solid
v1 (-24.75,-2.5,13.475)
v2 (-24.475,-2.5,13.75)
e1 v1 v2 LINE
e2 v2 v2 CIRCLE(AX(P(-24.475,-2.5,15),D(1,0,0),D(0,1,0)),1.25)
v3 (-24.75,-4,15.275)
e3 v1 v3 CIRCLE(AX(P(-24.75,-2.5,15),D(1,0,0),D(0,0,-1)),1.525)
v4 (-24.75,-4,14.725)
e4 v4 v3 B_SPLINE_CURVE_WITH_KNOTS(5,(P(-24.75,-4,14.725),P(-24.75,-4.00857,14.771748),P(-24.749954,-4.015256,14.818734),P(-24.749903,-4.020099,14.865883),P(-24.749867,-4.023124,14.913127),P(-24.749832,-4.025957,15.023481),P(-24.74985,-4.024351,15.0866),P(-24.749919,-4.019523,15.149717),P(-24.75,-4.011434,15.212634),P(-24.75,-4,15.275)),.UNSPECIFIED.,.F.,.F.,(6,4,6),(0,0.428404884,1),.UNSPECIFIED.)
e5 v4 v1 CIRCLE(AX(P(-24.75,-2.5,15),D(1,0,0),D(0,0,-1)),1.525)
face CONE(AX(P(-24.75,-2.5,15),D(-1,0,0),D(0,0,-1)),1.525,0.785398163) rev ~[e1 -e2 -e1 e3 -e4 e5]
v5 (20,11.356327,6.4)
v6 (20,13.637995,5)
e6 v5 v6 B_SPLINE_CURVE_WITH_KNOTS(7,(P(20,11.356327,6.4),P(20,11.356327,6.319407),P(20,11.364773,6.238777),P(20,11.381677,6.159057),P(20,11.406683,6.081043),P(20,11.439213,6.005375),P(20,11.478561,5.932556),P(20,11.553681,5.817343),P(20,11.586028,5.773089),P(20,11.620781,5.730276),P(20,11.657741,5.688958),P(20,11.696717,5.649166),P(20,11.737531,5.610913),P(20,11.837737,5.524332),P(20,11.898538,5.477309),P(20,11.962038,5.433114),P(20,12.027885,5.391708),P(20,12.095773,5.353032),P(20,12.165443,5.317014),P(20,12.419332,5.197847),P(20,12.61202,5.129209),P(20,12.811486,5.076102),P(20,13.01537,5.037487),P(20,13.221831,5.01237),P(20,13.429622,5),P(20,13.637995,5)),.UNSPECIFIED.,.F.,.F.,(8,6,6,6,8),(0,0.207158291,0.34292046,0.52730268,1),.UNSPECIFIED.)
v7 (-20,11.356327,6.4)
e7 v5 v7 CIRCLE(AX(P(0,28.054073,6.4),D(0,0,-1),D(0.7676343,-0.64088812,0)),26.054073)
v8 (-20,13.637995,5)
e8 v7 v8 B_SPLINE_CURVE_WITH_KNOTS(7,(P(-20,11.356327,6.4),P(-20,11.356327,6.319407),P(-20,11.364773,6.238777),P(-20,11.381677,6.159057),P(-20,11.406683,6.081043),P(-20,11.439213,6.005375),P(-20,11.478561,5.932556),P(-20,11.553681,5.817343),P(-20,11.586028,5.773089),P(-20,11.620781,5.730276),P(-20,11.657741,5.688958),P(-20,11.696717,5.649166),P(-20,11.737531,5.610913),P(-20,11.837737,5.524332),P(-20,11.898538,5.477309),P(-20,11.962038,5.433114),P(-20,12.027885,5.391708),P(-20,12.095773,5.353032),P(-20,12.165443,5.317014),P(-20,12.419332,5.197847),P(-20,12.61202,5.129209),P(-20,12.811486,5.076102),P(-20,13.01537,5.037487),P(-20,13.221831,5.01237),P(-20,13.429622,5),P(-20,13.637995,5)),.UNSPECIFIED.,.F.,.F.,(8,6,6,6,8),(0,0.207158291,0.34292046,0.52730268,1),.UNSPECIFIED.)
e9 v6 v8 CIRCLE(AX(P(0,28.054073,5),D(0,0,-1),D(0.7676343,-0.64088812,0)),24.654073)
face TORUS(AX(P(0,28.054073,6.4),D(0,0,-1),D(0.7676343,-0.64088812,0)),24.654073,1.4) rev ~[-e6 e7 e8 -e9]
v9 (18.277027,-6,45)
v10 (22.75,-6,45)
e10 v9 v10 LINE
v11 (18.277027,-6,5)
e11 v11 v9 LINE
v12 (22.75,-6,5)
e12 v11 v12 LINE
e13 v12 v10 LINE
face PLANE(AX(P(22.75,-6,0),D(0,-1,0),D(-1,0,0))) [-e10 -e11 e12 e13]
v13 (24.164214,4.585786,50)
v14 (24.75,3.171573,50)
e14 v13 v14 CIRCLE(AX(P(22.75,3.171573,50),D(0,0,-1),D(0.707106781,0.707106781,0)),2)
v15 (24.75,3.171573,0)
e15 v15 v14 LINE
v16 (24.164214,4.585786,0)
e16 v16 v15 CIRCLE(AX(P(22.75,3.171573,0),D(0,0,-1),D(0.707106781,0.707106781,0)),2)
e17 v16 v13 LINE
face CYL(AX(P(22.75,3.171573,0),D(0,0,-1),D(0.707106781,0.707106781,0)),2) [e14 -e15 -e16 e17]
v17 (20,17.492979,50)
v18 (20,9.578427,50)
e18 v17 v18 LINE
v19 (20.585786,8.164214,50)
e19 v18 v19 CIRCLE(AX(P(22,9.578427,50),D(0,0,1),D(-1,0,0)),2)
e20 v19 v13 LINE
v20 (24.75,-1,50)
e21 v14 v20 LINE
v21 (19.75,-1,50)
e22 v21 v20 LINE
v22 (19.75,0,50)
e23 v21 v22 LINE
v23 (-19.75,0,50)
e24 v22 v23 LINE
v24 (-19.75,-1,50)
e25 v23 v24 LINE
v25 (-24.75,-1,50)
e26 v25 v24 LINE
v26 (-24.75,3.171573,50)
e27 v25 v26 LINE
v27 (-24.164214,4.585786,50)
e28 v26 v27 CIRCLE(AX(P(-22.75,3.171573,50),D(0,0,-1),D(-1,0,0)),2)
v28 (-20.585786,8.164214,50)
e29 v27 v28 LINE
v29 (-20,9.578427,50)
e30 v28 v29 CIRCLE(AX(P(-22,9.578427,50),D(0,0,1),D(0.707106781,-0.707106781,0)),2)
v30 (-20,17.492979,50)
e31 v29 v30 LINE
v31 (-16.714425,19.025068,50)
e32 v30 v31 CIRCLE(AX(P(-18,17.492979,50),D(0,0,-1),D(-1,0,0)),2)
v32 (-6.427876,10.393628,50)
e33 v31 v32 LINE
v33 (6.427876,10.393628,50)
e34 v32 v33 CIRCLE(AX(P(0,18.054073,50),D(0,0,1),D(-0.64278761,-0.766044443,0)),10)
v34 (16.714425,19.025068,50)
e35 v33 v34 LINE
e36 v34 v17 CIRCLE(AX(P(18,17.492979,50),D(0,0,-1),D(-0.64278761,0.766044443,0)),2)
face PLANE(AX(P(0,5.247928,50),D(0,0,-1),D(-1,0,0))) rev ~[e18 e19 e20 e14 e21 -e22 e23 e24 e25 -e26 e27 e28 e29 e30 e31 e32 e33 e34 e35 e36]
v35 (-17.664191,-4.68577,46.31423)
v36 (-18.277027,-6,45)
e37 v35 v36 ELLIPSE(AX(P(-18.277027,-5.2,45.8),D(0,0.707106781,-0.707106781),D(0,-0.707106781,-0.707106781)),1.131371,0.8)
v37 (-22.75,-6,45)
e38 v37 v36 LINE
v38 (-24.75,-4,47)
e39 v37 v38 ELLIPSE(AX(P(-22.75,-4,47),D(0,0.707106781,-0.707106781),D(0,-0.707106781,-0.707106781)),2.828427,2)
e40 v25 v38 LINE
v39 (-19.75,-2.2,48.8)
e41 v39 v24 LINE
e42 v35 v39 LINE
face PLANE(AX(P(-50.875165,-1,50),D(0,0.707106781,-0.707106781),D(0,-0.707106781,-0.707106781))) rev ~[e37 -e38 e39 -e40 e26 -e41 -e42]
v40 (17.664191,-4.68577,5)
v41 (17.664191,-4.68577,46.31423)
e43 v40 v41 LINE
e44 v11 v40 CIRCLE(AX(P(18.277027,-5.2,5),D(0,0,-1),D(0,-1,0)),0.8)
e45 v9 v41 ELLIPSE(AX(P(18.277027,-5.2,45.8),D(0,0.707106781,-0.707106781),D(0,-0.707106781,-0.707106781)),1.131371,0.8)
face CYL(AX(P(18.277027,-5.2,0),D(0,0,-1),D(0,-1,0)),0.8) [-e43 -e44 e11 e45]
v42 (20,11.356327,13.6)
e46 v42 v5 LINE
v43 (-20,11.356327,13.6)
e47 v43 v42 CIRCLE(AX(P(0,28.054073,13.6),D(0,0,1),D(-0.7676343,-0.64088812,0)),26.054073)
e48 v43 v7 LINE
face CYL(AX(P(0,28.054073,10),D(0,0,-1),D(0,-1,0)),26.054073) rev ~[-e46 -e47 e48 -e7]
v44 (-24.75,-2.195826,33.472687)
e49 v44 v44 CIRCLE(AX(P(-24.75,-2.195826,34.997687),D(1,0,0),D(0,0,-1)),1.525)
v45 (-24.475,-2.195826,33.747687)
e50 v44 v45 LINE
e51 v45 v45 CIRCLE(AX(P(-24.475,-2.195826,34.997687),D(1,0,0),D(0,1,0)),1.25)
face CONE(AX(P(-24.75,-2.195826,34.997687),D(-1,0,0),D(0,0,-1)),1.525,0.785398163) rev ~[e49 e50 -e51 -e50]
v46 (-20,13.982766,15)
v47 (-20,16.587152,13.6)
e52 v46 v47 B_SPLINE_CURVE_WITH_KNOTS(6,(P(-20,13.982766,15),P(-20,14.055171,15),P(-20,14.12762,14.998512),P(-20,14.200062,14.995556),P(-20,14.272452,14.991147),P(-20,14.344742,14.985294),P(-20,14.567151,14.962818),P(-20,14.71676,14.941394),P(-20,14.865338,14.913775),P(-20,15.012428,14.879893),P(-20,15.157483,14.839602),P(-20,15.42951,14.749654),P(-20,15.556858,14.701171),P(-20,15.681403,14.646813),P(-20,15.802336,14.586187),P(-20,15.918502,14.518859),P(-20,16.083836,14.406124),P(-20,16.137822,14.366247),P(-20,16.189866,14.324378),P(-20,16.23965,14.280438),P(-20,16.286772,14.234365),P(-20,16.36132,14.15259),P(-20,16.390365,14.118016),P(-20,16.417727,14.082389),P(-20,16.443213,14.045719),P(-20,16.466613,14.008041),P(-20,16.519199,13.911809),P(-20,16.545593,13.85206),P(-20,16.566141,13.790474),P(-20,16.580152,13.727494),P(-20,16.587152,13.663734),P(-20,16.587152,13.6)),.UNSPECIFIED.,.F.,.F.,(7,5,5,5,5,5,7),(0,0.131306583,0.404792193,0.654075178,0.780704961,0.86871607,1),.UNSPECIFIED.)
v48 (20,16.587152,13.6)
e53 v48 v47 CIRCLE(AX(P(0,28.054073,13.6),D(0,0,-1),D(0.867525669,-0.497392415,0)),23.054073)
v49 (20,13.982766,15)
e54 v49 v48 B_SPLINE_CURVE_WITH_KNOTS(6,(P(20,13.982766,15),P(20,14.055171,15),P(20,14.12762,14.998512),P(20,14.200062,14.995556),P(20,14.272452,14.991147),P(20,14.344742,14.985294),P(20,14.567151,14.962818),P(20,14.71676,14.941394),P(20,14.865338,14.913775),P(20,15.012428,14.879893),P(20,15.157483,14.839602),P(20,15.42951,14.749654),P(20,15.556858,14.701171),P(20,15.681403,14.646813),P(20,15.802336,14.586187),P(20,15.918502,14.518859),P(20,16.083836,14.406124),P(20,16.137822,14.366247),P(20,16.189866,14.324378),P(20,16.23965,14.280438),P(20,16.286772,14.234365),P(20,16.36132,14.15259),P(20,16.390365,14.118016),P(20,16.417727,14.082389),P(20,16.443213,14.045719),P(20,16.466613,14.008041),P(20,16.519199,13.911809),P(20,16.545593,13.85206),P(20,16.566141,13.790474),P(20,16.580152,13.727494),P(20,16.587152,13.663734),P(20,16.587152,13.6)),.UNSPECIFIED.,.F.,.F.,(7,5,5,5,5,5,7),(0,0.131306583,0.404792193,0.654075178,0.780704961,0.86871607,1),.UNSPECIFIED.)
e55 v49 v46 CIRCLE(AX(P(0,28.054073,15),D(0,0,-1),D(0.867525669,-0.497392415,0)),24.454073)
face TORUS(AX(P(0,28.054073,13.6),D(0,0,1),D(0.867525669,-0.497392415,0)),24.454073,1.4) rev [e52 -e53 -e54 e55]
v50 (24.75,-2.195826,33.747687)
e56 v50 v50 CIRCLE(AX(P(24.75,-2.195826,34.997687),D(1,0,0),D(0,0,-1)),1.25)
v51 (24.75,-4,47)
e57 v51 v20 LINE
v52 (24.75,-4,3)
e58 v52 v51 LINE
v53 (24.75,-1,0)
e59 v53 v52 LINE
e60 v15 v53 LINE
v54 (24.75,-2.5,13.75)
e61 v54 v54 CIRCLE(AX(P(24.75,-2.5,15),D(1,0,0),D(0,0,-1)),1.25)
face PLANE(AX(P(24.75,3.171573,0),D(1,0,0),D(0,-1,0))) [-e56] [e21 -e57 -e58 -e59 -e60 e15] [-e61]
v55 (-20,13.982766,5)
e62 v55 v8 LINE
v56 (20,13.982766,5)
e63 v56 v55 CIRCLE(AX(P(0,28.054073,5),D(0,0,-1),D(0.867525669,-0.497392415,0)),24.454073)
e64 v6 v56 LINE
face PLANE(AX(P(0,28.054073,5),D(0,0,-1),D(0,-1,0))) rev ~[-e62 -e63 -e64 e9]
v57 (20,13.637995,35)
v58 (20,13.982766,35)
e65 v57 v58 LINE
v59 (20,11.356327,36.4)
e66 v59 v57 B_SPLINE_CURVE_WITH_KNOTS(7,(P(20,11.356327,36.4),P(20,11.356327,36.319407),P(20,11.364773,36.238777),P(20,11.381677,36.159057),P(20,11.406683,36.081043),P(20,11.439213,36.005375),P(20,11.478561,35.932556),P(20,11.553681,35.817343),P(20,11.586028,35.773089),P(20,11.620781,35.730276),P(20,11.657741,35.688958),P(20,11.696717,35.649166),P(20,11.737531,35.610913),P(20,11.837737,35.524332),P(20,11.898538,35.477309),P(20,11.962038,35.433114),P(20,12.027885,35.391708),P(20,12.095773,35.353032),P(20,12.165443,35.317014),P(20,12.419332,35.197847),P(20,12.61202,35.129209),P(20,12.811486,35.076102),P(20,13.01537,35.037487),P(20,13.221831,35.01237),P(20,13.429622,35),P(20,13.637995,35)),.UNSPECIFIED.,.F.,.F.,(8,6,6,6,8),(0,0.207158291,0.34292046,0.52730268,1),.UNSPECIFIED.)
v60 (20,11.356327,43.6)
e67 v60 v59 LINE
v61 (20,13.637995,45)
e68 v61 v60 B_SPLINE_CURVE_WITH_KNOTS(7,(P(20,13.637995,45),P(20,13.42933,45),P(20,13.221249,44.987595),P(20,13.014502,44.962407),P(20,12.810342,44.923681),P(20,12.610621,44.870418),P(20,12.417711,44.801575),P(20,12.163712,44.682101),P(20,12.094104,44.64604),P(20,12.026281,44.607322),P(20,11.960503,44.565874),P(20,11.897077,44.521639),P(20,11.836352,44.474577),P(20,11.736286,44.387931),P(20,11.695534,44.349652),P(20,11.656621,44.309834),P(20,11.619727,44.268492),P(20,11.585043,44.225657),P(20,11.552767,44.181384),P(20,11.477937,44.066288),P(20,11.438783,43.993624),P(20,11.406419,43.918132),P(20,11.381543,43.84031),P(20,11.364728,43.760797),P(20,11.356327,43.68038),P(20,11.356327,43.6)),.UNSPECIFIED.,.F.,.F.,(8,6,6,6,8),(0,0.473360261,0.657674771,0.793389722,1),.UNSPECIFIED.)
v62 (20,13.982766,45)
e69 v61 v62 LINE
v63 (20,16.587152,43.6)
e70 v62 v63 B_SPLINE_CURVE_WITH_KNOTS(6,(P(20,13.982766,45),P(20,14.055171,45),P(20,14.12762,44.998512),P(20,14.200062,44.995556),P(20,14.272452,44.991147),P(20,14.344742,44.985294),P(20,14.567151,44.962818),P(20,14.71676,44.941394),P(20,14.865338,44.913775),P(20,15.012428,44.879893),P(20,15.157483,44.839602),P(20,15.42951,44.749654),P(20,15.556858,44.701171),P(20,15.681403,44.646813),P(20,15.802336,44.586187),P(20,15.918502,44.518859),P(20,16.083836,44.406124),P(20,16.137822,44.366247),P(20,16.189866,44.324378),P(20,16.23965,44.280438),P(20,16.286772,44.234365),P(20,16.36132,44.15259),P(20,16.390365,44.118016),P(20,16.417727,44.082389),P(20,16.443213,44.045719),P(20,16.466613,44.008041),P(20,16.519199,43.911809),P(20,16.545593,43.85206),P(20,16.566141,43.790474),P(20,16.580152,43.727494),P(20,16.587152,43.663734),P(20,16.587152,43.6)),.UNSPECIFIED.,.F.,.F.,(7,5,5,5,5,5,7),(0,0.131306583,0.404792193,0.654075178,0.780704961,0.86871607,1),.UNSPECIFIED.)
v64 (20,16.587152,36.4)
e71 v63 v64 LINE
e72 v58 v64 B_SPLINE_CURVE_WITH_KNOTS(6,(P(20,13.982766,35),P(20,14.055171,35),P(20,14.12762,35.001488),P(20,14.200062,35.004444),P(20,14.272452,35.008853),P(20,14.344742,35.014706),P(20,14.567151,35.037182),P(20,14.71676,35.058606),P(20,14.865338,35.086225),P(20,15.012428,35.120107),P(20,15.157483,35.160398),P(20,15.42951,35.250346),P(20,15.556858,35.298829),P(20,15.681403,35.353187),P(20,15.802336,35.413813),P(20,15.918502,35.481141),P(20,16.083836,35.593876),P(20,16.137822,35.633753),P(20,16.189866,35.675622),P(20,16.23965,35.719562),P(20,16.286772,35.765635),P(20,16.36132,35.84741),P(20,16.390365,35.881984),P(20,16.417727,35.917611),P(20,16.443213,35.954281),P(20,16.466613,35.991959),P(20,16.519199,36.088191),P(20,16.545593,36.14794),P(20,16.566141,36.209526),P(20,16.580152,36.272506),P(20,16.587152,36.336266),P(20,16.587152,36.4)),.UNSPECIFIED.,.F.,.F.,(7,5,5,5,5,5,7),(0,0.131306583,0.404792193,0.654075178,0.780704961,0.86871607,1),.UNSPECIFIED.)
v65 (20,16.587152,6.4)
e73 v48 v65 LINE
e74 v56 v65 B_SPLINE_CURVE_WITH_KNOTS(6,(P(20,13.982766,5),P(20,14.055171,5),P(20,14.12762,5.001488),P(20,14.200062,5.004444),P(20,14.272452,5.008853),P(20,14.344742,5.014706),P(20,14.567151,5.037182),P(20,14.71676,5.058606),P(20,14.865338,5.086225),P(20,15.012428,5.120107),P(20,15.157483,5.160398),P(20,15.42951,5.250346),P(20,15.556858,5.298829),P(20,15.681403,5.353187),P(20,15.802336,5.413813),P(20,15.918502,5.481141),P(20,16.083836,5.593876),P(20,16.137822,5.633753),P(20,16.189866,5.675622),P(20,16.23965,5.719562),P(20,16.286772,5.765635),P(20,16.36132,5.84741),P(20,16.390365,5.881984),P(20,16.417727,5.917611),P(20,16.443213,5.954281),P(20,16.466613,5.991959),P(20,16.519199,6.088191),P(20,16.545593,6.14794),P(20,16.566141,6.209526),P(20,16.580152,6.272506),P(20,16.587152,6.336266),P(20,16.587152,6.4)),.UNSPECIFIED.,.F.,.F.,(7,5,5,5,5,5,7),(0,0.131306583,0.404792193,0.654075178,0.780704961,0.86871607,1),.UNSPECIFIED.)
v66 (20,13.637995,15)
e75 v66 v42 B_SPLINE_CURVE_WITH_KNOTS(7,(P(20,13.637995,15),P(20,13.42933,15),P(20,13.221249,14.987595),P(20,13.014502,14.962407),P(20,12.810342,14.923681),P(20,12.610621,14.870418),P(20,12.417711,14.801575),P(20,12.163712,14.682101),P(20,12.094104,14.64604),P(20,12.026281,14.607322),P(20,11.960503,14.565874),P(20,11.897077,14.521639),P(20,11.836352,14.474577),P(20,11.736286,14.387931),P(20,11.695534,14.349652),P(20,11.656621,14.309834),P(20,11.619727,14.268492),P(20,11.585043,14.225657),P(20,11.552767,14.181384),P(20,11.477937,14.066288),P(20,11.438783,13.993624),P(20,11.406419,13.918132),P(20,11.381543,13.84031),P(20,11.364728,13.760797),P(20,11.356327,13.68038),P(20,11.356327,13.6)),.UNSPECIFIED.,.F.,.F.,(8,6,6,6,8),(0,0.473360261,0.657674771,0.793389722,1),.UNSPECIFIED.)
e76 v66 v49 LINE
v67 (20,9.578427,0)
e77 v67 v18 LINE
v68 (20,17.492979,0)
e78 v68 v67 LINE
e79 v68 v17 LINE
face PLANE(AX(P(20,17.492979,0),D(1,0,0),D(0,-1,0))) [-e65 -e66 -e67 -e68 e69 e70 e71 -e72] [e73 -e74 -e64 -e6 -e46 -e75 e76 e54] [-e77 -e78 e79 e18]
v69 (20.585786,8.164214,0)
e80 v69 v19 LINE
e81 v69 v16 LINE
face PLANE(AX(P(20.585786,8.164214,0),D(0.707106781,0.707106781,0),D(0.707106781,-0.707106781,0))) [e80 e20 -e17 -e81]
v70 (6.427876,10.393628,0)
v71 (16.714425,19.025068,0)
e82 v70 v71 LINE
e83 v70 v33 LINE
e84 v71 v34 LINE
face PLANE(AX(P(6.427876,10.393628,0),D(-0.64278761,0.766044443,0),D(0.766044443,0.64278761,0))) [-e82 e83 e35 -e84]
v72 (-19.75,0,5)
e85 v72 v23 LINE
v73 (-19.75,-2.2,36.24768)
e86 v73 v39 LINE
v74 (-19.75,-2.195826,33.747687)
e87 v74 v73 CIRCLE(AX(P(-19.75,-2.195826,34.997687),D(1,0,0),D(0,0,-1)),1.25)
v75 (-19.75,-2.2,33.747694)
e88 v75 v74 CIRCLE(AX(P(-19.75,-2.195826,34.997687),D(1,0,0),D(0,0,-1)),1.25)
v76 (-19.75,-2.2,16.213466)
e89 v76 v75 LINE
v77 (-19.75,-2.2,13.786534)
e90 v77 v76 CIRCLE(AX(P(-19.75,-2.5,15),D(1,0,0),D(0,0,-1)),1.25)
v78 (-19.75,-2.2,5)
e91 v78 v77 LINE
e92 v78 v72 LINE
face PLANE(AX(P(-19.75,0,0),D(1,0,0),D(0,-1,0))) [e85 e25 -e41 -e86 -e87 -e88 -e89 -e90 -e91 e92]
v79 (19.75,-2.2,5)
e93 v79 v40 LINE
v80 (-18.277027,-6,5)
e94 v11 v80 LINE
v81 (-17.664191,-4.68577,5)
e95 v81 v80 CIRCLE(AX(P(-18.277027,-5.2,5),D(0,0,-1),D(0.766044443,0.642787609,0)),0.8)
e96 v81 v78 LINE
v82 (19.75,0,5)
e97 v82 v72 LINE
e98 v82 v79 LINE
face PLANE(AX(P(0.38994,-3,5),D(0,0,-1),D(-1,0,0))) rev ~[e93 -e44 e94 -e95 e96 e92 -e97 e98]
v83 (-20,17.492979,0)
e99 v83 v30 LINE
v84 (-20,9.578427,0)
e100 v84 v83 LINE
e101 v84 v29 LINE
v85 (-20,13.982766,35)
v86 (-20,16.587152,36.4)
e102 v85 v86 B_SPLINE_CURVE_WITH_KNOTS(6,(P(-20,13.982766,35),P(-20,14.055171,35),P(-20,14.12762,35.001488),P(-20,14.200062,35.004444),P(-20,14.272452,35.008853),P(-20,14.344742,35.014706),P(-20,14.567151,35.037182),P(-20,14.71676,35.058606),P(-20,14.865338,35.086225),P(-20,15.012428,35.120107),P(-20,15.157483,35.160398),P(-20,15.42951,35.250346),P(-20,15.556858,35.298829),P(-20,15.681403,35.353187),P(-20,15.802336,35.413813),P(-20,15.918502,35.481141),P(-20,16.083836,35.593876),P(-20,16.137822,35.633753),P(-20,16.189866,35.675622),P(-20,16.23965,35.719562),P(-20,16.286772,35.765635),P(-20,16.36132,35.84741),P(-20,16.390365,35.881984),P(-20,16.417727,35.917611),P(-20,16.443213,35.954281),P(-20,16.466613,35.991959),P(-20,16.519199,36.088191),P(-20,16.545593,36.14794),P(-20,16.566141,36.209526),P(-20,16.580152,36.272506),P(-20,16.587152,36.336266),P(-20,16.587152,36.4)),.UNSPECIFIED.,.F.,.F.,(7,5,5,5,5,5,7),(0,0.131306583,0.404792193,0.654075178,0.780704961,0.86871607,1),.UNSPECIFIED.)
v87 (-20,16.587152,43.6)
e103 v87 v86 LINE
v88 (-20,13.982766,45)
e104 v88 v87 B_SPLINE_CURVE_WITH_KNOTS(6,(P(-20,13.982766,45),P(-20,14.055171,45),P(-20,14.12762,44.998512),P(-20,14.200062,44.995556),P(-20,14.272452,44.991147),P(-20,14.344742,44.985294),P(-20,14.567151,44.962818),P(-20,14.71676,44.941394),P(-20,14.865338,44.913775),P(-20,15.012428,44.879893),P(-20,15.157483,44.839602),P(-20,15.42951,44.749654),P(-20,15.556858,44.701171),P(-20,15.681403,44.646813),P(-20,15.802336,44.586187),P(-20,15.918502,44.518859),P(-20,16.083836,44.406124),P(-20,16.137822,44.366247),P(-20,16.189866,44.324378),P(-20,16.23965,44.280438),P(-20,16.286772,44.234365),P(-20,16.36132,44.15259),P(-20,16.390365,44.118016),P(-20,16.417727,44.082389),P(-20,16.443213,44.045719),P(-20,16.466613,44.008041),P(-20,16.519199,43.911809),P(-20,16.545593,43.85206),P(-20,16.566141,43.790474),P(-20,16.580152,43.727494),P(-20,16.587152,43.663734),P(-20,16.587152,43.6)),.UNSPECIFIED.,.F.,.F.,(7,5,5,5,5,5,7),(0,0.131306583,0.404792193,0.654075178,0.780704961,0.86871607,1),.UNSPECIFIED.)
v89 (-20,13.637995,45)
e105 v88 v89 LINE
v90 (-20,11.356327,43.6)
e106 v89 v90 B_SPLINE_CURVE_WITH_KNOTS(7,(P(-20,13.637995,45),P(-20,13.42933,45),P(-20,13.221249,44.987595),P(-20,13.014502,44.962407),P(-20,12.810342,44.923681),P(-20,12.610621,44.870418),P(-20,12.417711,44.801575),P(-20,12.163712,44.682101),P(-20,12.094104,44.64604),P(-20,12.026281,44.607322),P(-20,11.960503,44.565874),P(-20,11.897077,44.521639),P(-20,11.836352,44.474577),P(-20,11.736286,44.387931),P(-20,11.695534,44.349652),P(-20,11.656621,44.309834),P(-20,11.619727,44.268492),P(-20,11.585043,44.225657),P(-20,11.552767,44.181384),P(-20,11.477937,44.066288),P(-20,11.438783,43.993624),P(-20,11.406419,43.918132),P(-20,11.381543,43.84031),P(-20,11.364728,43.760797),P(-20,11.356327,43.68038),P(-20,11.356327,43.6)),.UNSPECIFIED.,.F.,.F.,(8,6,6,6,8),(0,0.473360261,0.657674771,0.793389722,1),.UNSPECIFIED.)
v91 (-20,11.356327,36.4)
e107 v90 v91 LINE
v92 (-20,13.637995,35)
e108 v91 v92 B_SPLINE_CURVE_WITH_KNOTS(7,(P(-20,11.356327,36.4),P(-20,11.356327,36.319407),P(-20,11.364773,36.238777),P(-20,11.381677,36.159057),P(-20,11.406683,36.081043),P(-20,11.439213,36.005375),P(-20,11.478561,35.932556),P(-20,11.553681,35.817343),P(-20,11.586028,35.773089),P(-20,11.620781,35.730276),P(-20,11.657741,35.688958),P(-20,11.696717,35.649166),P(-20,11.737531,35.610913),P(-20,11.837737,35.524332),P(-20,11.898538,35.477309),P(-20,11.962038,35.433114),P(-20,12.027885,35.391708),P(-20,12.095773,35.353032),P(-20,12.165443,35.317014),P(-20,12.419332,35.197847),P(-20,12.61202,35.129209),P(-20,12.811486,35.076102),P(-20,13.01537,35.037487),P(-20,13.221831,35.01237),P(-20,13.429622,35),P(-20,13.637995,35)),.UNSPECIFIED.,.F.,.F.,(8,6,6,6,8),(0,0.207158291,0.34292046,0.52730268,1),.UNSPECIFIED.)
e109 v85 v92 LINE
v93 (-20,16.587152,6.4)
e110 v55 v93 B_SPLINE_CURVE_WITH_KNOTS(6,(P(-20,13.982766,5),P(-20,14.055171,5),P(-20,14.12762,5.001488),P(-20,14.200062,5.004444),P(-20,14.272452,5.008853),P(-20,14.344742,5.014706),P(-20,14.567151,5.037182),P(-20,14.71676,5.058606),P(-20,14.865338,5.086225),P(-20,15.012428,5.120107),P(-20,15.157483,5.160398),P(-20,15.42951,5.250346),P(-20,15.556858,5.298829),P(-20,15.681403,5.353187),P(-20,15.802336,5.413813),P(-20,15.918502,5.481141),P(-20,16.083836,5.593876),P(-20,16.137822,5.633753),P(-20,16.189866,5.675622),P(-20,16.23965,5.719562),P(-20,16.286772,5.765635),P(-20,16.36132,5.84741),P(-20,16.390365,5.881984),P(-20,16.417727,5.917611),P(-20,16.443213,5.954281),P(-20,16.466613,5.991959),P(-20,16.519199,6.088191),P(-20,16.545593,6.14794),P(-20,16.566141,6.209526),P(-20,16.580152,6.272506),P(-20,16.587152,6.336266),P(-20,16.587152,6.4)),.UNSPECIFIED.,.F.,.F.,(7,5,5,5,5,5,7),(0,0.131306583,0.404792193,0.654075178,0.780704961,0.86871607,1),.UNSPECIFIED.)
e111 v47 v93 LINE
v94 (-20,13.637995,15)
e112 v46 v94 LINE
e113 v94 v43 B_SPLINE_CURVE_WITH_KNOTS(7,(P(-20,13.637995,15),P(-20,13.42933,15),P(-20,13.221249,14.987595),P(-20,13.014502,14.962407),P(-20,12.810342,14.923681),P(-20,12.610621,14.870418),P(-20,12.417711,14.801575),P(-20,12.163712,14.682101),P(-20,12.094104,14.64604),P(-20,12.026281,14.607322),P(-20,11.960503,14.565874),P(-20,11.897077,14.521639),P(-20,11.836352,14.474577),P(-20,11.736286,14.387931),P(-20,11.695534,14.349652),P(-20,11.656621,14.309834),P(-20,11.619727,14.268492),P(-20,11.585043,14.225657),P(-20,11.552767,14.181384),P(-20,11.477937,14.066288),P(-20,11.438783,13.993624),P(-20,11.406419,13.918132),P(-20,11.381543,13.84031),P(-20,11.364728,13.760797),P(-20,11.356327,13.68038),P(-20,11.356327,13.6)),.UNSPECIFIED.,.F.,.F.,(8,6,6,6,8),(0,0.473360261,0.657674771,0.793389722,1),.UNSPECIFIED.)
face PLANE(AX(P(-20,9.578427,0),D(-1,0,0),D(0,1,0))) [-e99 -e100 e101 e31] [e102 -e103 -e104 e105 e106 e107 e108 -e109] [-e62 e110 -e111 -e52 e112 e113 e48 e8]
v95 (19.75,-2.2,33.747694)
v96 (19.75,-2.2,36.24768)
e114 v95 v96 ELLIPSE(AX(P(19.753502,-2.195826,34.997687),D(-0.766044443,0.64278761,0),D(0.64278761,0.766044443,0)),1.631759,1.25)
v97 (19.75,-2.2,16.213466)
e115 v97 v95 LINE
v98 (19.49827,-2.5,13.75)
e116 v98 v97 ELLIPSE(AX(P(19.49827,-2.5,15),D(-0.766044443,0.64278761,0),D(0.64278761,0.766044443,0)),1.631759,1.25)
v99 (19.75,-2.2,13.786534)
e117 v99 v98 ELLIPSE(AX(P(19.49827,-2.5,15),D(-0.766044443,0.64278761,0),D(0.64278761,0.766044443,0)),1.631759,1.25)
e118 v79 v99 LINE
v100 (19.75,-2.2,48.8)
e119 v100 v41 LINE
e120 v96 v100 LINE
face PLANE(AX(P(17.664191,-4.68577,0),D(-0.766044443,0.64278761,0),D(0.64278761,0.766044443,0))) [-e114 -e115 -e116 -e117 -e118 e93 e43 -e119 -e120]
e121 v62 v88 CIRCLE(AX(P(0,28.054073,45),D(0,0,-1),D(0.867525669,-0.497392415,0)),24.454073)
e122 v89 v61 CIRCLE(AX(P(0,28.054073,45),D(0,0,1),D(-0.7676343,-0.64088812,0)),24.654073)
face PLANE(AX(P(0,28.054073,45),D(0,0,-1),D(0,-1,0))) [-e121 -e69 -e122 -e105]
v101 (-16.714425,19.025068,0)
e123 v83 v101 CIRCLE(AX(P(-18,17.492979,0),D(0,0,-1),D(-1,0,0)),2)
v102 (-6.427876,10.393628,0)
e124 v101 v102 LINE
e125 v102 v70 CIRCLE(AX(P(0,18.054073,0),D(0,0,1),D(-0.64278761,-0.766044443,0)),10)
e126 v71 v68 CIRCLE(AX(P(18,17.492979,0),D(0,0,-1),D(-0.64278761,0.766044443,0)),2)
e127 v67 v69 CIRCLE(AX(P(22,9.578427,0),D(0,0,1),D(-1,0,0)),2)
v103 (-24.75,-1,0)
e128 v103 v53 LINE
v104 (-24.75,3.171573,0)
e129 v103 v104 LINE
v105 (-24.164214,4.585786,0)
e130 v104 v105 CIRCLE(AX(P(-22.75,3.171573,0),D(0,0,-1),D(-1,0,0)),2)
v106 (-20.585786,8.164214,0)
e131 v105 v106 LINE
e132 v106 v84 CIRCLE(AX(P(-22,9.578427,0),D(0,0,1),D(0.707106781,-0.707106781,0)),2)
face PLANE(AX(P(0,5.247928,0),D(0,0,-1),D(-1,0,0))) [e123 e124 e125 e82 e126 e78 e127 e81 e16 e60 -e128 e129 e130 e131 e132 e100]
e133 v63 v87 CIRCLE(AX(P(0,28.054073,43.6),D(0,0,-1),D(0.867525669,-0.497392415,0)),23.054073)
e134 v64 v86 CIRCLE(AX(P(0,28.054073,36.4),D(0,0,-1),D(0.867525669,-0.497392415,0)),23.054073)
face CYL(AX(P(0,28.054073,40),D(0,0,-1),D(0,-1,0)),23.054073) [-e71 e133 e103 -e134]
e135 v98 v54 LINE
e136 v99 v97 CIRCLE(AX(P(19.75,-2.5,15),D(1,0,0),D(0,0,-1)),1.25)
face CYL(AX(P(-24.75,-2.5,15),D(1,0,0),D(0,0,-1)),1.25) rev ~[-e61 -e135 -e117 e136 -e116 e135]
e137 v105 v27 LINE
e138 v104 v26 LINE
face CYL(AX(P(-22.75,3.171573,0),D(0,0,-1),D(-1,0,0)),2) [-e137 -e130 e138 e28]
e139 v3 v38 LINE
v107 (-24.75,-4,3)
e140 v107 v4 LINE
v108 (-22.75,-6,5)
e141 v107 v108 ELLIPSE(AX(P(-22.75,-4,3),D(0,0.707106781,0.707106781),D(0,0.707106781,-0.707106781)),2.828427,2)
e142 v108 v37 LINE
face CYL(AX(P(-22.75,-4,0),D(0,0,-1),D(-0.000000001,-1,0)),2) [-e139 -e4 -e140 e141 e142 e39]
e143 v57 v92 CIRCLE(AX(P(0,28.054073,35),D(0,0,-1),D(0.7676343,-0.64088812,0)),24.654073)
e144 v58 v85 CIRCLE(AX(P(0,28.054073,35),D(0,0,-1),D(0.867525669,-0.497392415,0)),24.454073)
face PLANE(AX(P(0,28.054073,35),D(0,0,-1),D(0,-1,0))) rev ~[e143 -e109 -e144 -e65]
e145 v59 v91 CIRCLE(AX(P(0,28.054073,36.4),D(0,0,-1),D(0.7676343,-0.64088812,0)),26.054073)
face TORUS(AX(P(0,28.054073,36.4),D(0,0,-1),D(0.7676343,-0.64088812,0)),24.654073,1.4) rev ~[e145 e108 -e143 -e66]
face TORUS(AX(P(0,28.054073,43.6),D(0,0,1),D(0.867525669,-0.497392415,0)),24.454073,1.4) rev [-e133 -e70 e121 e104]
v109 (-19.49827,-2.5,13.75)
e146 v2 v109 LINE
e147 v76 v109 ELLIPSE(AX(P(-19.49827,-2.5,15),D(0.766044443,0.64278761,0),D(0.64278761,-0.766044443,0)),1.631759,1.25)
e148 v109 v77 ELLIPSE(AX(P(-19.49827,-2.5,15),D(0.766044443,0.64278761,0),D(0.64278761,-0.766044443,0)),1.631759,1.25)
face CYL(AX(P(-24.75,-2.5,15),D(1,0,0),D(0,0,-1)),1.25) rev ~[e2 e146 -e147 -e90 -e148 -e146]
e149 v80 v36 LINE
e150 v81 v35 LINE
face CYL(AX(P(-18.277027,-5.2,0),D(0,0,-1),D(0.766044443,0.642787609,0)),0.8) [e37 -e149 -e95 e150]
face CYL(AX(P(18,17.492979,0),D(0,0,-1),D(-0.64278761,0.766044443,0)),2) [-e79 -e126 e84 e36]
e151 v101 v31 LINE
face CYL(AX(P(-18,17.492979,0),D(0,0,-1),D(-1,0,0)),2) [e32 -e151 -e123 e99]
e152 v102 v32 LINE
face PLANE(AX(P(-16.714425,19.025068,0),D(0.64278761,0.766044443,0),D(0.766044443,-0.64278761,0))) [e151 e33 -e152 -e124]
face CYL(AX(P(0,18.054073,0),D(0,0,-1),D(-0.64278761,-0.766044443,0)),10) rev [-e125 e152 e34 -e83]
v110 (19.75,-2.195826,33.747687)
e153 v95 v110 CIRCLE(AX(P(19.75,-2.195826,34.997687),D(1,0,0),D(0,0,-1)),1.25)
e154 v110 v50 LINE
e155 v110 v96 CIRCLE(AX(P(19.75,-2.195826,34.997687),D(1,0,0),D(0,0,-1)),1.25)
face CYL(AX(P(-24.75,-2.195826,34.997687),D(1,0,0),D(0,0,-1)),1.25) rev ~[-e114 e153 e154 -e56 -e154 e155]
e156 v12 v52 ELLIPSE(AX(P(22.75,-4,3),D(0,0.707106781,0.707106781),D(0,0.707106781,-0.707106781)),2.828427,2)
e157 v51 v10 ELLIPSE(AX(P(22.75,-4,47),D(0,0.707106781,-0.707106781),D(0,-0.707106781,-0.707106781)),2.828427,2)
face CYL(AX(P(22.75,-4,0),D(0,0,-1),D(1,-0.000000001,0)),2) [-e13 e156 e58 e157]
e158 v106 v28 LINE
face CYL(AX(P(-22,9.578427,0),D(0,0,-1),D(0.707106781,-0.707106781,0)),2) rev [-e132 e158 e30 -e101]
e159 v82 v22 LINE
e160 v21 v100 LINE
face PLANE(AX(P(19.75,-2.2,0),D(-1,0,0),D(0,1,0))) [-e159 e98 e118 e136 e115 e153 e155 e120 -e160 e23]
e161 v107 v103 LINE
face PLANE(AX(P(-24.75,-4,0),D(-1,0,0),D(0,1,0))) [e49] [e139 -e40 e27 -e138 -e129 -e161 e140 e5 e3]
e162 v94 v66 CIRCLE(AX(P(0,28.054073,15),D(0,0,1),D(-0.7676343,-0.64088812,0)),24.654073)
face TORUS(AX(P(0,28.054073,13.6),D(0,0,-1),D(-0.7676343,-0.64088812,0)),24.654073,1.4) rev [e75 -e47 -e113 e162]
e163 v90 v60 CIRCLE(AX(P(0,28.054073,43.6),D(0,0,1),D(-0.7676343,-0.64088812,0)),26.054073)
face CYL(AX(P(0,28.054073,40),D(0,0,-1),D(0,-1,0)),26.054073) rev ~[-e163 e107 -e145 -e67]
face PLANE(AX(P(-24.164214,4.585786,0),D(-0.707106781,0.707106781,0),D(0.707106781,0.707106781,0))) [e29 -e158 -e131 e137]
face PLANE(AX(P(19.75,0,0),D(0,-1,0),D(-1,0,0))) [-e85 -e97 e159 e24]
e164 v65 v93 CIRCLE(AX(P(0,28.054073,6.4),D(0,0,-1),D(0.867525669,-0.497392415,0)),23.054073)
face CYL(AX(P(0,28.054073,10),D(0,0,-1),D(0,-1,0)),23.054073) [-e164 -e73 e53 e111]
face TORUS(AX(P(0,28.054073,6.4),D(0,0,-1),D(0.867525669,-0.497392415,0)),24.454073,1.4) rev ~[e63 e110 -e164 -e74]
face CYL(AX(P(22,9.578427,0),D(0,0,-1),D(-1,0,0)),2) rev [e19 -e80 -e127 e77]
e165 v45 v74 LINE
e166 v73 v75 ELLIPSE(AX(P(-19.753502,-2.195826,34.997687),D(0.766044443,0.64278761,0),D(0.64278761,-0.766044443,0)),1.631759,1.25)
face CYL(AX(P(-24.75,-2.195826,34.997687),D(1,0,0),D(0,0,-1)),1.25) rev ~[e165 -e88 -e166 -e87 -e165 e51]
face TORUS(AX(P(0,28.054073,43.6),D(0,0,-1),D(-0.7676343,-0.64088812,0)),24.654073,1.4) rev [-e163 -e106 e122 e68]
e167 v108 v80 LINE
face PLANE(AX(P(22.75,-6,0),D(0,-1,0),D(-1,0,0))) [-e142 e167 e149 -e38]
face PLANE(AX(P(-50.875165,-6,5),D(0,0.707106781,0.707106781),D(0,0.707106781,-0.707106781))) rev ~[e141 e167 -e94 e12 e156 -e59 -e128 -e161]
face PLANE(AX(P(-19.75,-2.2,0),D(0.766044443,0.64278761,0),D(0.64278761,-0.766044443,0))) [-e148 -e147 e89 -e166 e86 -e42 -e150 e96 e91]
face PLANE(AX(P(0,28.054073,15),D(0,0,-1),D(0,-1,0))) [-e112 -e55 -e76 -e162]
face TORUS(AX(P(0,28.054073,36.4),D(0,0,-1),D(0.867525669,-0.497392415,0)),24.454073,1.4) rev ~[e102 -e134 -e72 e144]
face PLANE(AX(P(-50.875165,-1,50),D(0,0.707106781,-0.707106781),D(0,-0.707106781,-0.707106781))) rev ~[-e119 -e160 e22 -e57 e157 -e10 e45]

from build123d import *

# Parameters (mm, degrees)
BOSS_EXTRUDE1_DEPTH             = 50
SKETCH2_W                       = 10
SKETCH2_H                       = 3
M3X0_5_TAPPED_HOLE1_D           = 2.5
M3X0_5_TAPPED_HOLE1_CSINK_D     = 3.05
M3X0_5_TAPPED_HOLE1_CSINK_ANGLE = 90
FILLET2_R                       = 1.4
SKETCH5_W                       = 42.664543816
SKETCH5_H                       = 6
BOSS_EXTRUDE2_DEPTH             = 5
CUT_EXTRUDE1_DEPTH              = 70.875165408
CUT_EXTRUDE1_DEPTH_BACK         = 70.875165408


with BuildPart() as part:
    # Sketch1 → Boss-Extrude1 (new body)
    with BuildSketch(Plane.XY):
        with BuildLine():
            Line((6.427876097, 10.393628462), (16.714424781, 19.025067669))
            ThreePointArc((16.714424781, 19.025067669), (18.845236523, 19.305594357), (20, 17.492978783))
            Line((20, 17.492978783), (20, 9.578427125))
            ThreePointArc((20, 9.578427125), (20.152240935, 8.81306026), (20.585786438, 8.164213562))
            Line((20.585786438, 8.164213562), (24.164213562, 4.585786438))
            ThreePointArc((24.164213562, 4.585786438), (24.597759065, 3.93693974), (24.75, 3.171572875))
            Line((24.75, 3.171572875), (24.75, -4))
            ThreePointArc((24.75, -4), (24.164213562, -5.414213562), (22.75, -6))
            Line((22.75, -6), (18.277026938, -6))
            ThreePointArc((18.277026938, -6), (17.551980708, -5.538094609), (17.664191383, -4.685769912))
            Line((17.664191383, -4.685769912), (19.75, -2.2))
            Line((19.75, -2.2), (19.75, 0))
            Line((19.75, 0), (-19.75, 0))
            Line((-19.75, 0), (-19.75, -2.2))
            Line((-19.75, -2.2), (-17.664191383, -4.685769912))
            ThreePointArc((-17.664191383, -4.685769912), (-17.551980708, -5.538094609), (-18.277026938, -6))
            Line((-18.277026938, -6), (-22.75, -6))
            ThreePointArc((-22.75, -6), (-24.164213562, -5.414213562), (-24.75, -4))
            Line((-24.75, -4), (-24.75, 3.171572875))
            ThreePointArc((-24.75, 3.171572875), (-24.597759065, 3.93693974), (-24.164213562, 4.585786438))
            Line((-24.164213562, 4.585786438), (-20.585786438, 8.164213562))
            ThreePointArc((-20.585786438, 8.164213562), (-20.152240935, 8.81306026), (-20, 9.578427125))
            Line((-20, 9.578427125), (-20, 17.492978783))
            ThreePointArc((-20, 17.492978783), (-18.845236523, 19.305594357), (-16.714424781, 19.025067669))
            Line((-16.714424781, 19.025067669), (-6.427876097, 10.393628462))
            ThreePointArc((-6.427876097, 10.393628462), (0, 8.054072893), (6.427876097, 10.393628462))
        make_face()
    extrude(amount=BOSS_EXTRUDE1_DEPTH)

    # Sketch2 → Cut-Revolve1 (revolve, cut)
    with BuildSketch(Plane(origin=(0, 0, 0), x_dir=(0, 0, -1), z_dir=(1, 0, 0))):
        with Locations((-10, 3.5)):
            Rectangle(SKETCH2_W, SKETCH2_H)
        with Locations((-40, 3.5)):
            Rectangle(SKETCH2_W, SKETCH2_H)
    revolve(axis=Axis((0, 28.054072893, 39.353848425), (0, 0, -1)), mode=Mode.SUBTRACT)

    # M3x0.5 Tapped Hole1 (through all)
    with Locations(Plane.ZY.offset(24.75)):
        with Locations((15, -2.5), (34.997686823, -2.195826159)):
            CounterSinkHole(M3X0_5_TAPPED_HOLE1_D / 2, M3X0_5_TAPPED_HOLE1_CSINK_D / 2, counter_sink_angle=M3X0_5_TAPPED_HOLE1_CSINK_ANGLE)

    # Fillet2
    fillet2_edges = [part.edges().sort_by_distance(p)[0] for p in [
        (0, 5, 5),
        (0, 2, 5),
        (0, 2, 15),
        (0, 5, 15),
        (0, 5, 35),
        (0, 2, 35),
        (0, 2, 45),
        (0, 5, 45),
    ]]
    fillet(fillet2_edges, radius=FILLET2_R)

    # Sketch5 → Boss-Extrude2 (add)
    with BuildSketch(Plane(origin=(0, 0, 0), x_dir=(-1, 0, 0), z_dir=(0, 0, -1))):
        with Locations((-0.389940088, -3)):
            Rectangle(SKETCH5_W, SKETCH5_H)
    extrude(amount=-BOSS_EXTRUDE2_DEPTH)

    # Sketch6 → Cut-Extrude1 (cut, two sides: drawn at the far end of the back side and taken through both)
    with BuildSketch(Plane(origin=(20, 0, 0), x_dir=(0, 0, -1), z_dir=(1, 0, 0)).offset(-CUT_EXTRUDE1_DEPTH_BACK)):
        Polygon((-50, 32.923814778), (-50, -1), (-45, -6), (-5, -6), (0, -1), (0, 27.637517517), (9.715724937, 27.637517517), (9.715724937, -14.512697257), (-61.049340823, -14.512697257), (-61.049340823, 32.923814778), align=None)
    extrude(amount=CUT_EXTRUDE1_DEPTH + CUT_EXTRUDE1_DEPTH_BACK, mode=Mode.SUBTRACT)


solid = part.part
